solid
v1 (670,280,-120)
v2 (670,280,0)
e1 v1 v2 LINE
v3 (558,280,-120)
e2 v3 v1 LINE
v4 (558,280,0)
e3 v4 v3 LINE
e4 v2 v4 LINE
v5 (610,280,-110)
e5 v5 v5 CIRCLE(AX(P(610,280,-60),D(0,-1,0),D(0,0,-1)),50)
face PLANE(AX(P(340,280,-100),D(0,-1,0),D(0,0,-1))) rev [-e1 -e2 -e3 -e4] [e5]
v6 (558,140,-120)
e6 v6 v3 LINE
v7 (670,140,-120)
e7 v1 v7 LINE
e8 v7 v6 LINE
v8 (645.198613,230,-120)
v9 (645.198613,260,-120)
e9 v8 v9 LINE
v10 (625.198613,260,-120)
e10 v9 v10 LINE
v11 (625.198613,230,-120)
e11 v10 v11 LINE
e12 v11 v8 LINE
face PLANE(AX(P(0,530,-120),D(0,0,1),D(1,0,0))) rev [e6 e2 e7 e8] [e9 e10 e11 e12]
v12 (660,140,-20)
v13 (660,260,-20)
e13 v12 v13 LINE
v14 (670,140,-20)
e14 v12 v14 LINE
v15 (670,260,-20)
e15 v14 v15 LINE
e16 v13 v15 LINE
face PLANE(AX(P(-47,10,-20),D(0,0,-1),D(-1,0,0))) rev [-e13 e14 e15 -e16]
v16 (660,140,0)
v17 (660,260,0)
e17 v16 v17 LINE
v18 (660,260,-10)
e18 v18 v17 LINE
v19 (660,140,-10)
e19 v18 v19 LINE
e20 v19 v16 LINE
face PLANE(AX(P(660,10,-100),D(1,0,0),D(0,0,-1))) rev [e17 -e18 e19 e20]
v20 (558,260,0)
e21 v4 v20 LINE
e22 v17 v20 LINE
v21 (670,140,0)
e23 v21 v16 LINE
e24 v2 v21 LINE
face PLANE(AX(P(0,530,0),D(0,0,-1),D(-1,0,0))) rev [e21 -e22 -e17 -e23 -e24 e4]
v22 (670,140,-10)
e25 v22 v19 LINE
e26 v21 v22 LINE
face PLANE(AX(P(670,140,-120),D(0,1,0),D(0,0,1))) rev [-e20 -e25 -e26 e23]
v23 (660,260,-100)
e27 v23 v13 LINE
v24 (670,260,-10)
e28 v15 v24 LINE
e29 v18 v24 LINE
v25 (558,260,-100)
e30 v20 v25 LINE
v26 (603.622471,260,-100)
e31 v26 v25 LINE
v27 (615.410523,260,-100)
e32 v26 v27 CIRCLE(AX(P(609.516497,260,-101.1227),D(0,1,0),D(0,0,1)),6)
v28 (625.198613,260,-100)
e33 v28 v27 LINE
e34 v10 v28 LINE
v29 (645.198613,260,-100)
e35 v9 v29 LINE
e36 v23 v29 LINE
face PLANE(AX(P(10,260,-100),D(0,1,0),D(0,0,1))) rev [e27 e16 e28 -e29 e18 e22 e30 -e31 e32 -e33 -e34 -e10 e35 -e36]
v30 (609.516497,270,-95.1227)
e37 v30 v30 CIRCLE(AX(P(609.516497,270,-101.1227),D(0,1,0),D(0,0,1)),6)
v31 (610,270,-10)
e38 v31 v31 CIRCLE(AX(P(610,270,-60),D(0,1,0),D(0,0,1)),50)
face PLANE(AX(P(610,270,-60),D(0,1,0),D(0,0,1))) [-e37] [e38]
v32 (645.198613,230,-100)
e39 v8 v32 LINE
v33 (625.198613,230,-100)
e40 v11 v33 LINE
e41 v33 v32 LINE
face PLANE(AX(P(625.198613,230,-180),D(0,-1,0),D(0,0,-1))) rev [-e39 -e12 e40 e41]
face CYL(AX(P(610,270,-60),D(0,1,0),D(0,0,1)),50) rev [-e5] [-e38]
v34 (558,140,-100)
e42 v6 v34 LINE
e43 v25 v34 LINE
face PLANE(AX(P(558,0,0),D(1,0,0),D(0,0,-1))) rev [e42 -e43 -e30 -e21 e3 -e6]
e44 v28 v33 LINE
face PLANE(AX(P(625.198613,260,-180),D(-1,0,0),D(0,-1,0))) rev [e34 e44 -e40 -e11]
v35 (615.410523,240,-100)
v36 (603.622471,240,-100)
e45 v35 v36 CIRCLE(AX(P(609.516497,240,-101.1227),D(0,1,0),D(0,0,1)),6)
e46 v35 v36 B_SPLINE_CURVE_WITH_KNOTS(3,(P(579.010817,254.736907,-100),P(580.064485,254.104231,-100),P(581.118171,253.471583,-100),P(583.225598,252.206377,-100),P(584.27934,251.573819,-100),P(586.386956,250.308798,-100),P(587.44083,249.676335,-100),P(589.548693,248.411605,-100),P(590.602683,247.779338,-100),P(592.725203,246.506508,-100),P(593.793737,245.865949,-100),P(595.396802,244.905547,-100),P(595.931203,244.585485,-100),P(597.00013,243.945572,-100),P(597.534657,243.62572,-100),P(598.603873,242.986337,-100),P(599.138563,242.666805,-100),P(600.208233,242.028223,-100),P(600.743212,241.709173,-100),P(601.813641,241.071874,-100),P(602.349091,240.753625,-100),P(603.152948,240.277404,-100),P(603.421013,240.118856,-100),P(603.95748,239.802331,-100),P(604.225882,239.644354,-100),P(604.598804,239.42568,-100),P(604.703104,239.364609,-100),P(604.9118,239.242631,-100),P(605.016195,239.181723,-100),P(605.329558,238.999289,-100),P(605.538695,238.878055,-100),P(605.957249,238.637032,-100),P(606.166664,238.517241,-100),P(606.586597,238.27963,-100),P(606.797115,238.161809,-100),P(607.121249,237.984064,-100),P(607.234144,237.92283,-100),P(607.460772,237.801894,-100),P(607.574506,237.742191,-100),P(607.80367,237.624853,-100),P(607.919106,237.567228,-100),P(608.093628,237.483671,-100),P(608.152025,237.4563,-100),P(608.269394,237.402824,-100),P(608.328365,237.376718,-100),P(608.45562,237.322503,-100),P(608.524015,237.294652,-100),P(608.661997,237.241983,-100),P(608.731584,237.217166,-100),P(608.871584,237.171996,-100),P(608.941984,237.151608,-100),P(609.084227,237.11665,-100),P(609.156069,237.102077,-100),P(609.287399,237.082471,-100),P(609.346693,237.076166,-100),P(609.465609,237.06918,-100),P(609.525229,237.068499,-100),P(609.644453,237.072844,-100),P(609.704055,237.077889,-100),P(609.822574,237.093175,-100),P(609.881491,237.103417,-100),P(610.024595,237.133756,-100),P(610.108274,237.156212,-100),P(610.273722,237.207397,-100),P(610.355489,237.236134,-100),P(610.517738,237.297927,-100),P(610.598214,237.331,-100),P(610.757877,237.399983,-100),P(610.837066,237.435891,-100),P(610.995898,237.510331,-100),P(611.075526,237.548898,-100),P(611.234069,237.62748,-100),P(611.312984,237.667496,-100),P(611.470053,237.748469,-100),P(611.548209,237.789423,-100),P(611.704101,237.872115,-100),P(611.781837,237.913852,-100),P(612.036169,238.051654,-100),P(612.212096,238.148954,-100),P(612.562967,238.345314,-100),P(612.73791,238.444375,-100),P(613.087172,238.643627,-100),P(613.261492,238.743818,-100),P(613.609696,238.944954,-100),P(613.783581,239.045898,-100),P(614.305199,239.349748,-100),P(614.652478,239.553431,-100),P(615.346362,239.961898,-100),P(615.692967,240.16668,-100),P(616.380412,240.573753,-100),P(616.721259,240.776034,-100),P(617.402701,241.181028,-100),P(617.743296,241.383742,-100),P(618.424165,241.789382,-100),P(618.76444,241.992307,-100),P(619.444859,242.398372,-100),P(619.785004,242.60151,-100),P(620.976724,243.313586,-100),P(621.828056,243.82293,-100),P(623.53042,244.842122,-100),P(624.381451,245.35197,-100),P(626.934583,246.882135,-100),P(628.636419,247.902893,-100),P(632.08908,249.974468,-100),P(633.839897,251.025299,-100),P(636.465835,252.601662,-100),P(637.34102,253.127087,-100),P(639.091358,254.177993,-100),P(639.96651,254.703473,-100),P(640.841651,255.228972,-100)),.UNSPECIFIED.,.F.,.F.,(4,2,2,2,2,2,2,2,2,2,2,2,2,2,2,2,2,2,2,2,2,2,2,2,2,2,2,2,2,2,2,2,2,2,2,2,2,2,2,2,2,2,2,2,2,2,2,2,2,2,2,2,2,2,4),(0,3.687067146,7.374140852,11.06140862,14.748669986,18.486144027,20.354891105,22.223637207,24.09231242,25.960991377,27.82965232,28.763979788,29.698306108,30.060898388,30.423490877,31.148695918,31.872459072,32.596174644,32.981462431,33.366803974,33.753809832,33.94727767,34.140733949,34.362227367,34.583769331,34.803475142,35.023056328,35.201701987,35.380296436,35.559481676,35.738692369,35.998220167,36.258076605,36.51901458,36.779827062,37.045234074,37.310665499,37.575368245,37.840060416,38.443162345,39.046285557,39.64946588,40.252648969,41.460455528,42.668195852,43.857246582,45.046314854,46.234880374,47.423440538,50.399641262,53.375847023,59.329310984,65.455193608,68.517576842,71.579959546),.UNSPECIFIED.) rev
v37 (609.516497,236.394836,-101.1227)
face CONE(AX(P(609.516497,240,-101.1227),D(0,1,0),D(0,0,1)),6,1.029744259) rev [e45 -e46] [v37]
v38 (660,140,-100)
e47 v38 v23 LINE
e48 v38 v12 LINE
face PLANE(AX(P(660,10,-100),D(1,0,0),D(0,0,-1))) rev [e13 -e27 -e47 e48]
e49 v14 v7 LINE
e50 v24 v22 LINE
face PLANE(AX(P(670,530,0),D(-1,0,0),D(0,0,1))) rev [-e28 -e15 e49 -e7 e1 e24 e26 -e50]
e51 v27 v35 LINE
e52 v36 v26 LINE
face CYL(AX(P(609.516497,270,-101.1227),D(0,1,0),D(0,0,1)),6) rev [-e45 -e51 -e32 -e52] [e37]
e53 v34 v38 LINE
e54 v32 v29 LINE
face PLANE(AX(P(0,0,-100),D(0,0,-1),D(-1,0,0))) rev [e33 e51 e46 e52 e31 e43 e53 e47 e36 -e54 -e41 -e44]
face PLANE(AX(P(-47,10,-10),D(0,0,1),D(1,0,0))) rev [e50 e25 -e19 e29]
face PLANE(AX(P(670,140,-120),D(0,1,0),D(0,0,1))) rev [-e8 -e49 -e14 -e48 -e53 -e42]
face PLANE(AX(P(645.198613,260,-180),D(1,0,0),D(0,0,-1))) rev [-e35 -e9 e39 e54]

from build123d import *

# Parameters (mm, degrees)
SKETCH1_W                      = 670
SKETCH1_H                      = 120
BOSS_EXTRUDE1_DEPTH            = 530
SKETCH2_W                      = 100
SKETCH2_H                      = 200
SKETCH2_W_2                    = 650
SKETCH2_H_2                    = 250
CUT_EXTRUDE1_DEPTH             = 100
SKETCH3_R                      = 50
CUT_EXTRUDE2_DEPTH             = 260
F_12_0_12_DIAMETER_HOLE2_D     = 12
F_12_0_12_DIAMETER_HOLE2_DEPTH = 30
F_12_0_12_DIAMETER_HOLE2_TIP   = 3.605163714
SKETCH8_W                      = 650
SKETCH8_H                      = 50
BOSS_EXTRUDE2_DEPTH            = 5
SKETCH9_W                      = 10
SKETCH9_H                      = 250
CUT_EXTRUDE3_DEPTH             = 717
CUT_EXTRUDE4_DEPTH             = 5
SKETCH11_W                     = 10
SKETCH11_H                     = 100
BOSS_EXTRUDE3_DEPTH            = 78
BOSS_EXTRUDE3_2_DEPTH          = 78
BOSS_EXTRUDE3_3_DEPTH          = 78
SKETCH12_W                     = 20
SKETCH12_H                     = 30
CUT_EXTRUDE5_DEPTH             = 80
SKETCH15_W                     = 30
SKETCH15_H                     = 23.536156656
SKETCH15_H_2                   = 28.986603691
CUT_EXTRUDE7_DEPTH             = 35
SHELL1_T                       = -3
SKETCH16_W                     = 14
SKETCH16_H                     = 14
CUT_EXTRUDE8_DEPTH             = 35
SKETCH17_W                     = 5.729882812
SKETCH17_H                     = 17.428393554
SKETCH17_W_2                   = 13.369726562
SKETCH17_H_2                   = 3.342431641
BOSS_EXTRUDE4_DEPTH            = 5
CUT_EXTRUDE10_DEPTH            = 863.670273187
CUT_EXTRUDE10_DEPTH_BACK       = 863.670273187
SKETCH18_W                     = 670
SKETCH18_H                     = 250
CUT_EXTRUDE12_DEPTH            = 737.002717386
CUT_EXTRUDE12_DEPTH_BACK       = 737.002717386
SKETCH19_W                     = 558
SKETCH19_H                     = 280
CUT_EXTRUDE13_DEPTH            = 322.253793752
CUT_EXTRUDE13_DEPTH_BACK       = 322.253793752
SKETCH20_W                     = 120
SKETCH20_H                     = 140


with BuildPart() as part:
    # Sketch1 → Boss-Extrude1 (new body)
    with BuildSketch(Plane(origin=(0, 0, 0), x_dir=(1, 0, 0), z_dir=(0, 1, 0))):
        with Locations((335, 60)):
            Rectangle(SKETCH1_W, SKETCH1_H)
    extrude(amount=BOSS_EXTRUDE1_DEPTH)

    # Sketch2 → Cut-Extrude1 (cut)
    with BuildSketch(Plane.XY):
        with Locations((60, 380)):
            Rectangle(SKETCH2_W, SKETCH2_H)
        with Locations((170, 380)):
            Rectangle(SKETCH2_W, SKETCH2_H)
        with Locations((280, 380)):
            Rectangle(SKETCH2_W, SKETCH2_H)
        with Locations((390, 380)):
            Rectangle(SKETCH2_W, SKETCH2_H)
        with Locations((500, 380)):
            Rectangle(SKETCH2_W, SKETCH2_H)
        with Locations((610, 380)):
            Rectangle(SKETCH2_W, SKETCH2_H)
        with Locations((335, 135)):
            Rectangle(SKETCH2_W_2, SKETCH2_H_2)
    extrude(amount=-CUT_EXTRUDE1_DEPTH, mode=Mode.SUBTRACT)

    # Sketch3 → Cut-Extrude2 (cut)
    with BuildSketch(Plane(origin=(0, 530, 0), x_dir=(1, 0, 0), z_dir=(0, 1, 0))):
        with Locations(Location((60, 60, 0), (0, 0, 270))):
            Circle(SKETCH3_R)
        with Locations(Location((170, 60, 0), (0, 0, 270))):
            Circle(SKETCH3_R)
        with Locations(Location((280, 60, 0), (0, 0, 270))):
            Circle(SKETCH3_R)
        with Locations(Location((390, 60, 0), (0, 0, 270))):
            Circle(SKETCH3_R)
        with Locations(Location((500, 60, 0), (0, 0, 270))):
            Circle(SKETCH3_R)
        with Locations(Location((610, 60, 0), (0, 0, 270))):
            Circle(SKETCH3_R)
    extrude(amount=-CUT_EXTRUDE2_DEPTH, mode=Mode.SUBTRACT)

    # Ø12.0 (12) Diameter Hole2
    with Locations(Plane(origin=(59.704642413, 270, -102.411697903), x_dir=(0, 0, 1), z_dir=(0, 1, 0))):
        with Locations((0, 0), (-0.195888006, 111.8520513), (0.014838595, 221.167624818), (-0.341843303, 331.364008353), (0.657723149, 441.008646429), (1.288998006, 549.811854685)):
            Hole(F_12_0_12_DIAMETER_HOLE2_D / 2, depth=F_12_0_12_DIAMETER_HOLE2_DEPTH)
            with Locations((0, 0, -(F_12_0_12_DIAMETER_HOLE2_DEPTH + F_12_0_12_DIAMETER_HOLE2_TIP / 2))):  # 118° drill point
                Cone(0, F_12_0_12_DIAMETER_HOLE2_D / 2, F_12_0_12_DIAMETER_HOLE2_TIP, mode=Mode.SUBTRACT)

    # Sketch8 → Boss-Extrude2 (add)
    with BuildSketch(Plane.XY):
        with Locations((335, 305)):
            Rectangle(SKETCH8_W, SKETCH8_H)
    extrude(amount=-BOSS_EXTRUDE2_DEPTH)

    # Sketch9 → Cut-Extrude3 (cut)
    with BuildSketch(Plane(origin=(670, 0, 0), x_dir=(0, 0, -1), z_dir=(1, 0, 0))):
        with Locations((15, 135)):
            Rectangle(SKETCH9_W, SKETCH9_H)
    extrude(amount=-CUT_EXTRUDE3_DEPTH, mode=Mode.SUBTRACT)

    # Sketch10 → Cut-Extrude4 (cut)
    with BuildSketch(Plane(origin=(0, 10, 0), x_dir=(1, 0, 0), z_dir=(0, 1, 0))):
        Polygon((365, 61.943560596), (350, 87.924322709), (320, 87.924322709), (305, 61.943560596), (320, 35.962798482), (350, 35.962798482), align=None)
    extrude(amount=-CUT_EXTRUDE4_DEPTH, mode=Mode.SUBTRACT)

    # Sketch12 → Cut-Extrude5 (cut)
    with BuildSketch(Plane.XY.offset(-100)):
        with Locations((85.198613037, 245)):
            Rectangle(SKETCH12_W, SKETCH12_H)
        with Locations((195.198613037, 245)):
            Rectangle(SKETCH12_W, SKETCH12_H)
        with Locations((305.198613037, 245)):
            Rectangle(SKETCH12_W, SKETCH12_H)
        with Locations((415.198613037, 245)):
            Rectangle(SKETCH12_W, SKETCH12_H)
        with Locations((525.198613037, 245)):
            Rectangle(SKETCH12_W, SKETCH12_H)
        with Locations((635.198613037, 245)):
            Rectangle(SKETCH12_W, SKETCH12_H)
    extrude(amount=-CUT_EXTRUDE5_DEPTH, mode=Mode.SUBTRACT)

    # Sketch17 → Boss-Extrude4 (add)
    # profile 1 of 9: a face of its own
    with BuildSketch(Plane.XY):
        with BuildLine():
            Line((527.508830928, 289.835452458), (527.508830928, 307.263846012))
            Line((527.508830928, 307.263846012), (534.861434459, 307.263846012))
            add(Edge.make_bspline(
                [(534.861434459, 307.263846012), (535.181337774, 307.258256848), (535.803061116, 307.24739446), (536.703508491, 307.139069344), (537.544992916, 306.975202489), (538.325061607, 306.737496792), (539.040841948, 306.426020155), (539.698044515, 306.051894954), (540.290333057, 305.605079277), (540.822348212, 305.090232636), (541.284521701, 304.502523111), (541.692171296, 303.852565801), (542.030284458, 303.129762281), (542.309377095, 302.341316546), (542.5243908, 301.484161689), (542.679660381, 300.560045938), (542.773357357, 299.567500804), (542.783368073, 298.883107022), (542.788518428, 298.530997273)],
                knots=[0, 0, 0, 0, 1.135059408, 2.20595691, 3.214417064, 4.174978569, 5.094187092, 5.980001006, 6.853065862, 7.720814779, 8.600404634, 9.50058483, 10.438414914, 11.426825708, 12.465239141, 13.571113463, 14.750376389, 16, 16, 16, 16], degree=3))
            add(Edge.make_bspline(
                [(542.788518428, 298.530997273), (542.781740751, 298.180151665), (542.768592871, 297.499553336), (542.676885992, 296.511518461), (542.516733301, 295.591080531), (542.296748778, 294.736450427), (542.003051046, 293.953120444), (541.654236167, 293.233205539), (541.233025793, 292.585291498), (540.753136904, 292.000029304), (540.204772188, 291.484681411), (539.587651059, 291.044279297), (538.910779309, 290.668464036), (538.169670382, 290.361903209), (537.364073889, 290.124869172), (536.495133477, 289.954199984), (535.562644449, 289.853487388), (534.920131033, 289.841584621), (534.58911581, 289.835452458)],
                knots=[0, 0, 0, 0, 1.228418252, 2.382983832, 3.470276728, 4.496757894, 5.468023682, 6.394867725, 7.292157164, 8.167372942, 9.039072913, 9.918728341, 10.815246345, 11.744296628, 12.720973084, 13.750736166, 14.841206188, 16, 16, 16, 16], degree=3))
            Line((534.58911581, 289.835452458), (527.508830928, 289.835452458))
        make_face()
        with BuildLine():
            Line((533.238713741, 291.745413395), (534.048208904, 291.745413395))
            add(Edge.make_bspline(
                [(534.048208904, 291.745413395), (534.172894012, 291.749291978), (534.413033311, 291.756761998), (534.758676231, 291.825976613), (535.075745017, 291.938271137), (535.365749176, 292.094802589), (535.623404602, 292.300450923), (535.848862806, 292.551404902), (536.04776914, 292.844737637), (536.217685755, 293.190205032), (536.364284647, 293.596533622), (536.481764702, 294.076367921), (536.592118304, 294.630928744), (536.673672739, 295.265507643), (536.740044562, 295.978448886), (536.788346679, 296.768428292), (536.812018936, 297.636801208), (536.817188964, 298.241258393), (536.819890499, 298.55711002)],
                knots=[0, 0, 0, 0, 0.728710832, 1.403472396, 2.052289494, 2.690292559, 3.321919393, 3.970736491, 4.656696891, 5.388631723, 6.217040872, 7.17856157, 8.275589967, 9.523440737, 10.918935818, 12.463926104, 14.152268318, 16, 16, 16, 16], degree=3))
            add(Edge.make_bspline(
                [(536.819890499, 298.55711002), (536.8171426, 298.871715251), (536.811863063, 299.476166083), (536.7886758, 300.343334385), (536.739579947, 301.133216935), (536.674703848, 301.843934916), (536.589660404, 302.476324031), (536.488366458, 303.031681737), (536.362441588, 303.507627045), (536.222158727, 303.914921549), (536.050140993, 304.256514038), (535.858357073, 304.554097881), (535.62547107, 304.79746827), (535.36991257, 305.004888479), (535.079348843, 305.160875844), (534.761320266, 305.273944358), (534.414185903, 305.34216807), (534.172870641, 305.349893944), (534.048208904, 305.353885075)],
                knots=[0, 0, 0, 0, 1.842836665, 3.540640921, 5.080358154, 6.47765669, 7.719902824, 8.816971715, 9.781579111, 10.601733135, 11.334613876, 12.017393917, 12.666641099, 13.29908421, 13.937911793, 14.587567384, 15.270347425, 16, 16, 16, 16], degree=3))
            Line((534.048208904, 305.353885075), (533.238713741, 305.353885075))
            Line((533.238713741, 305.353885075), (533.238713741, 291.745413395))
        make_face(mode=Mode.SUBTRACT)
    # profile 2 of 9: a face of its own
    with BuildSketch(Plane.XY):
        with Locations((547.563420772, 298.549649235)):
            Rectangle(SKETCH17_W, SKETCH17_H)
    # profile 3 of 9: a face of its own
    with BuildSketch(Plane.XY):
        Polygon((564.514324092, 307.263846012), (564.514324092, 305.115139958), (558.545696163, 305.115139958), (558.545696163, 299.862747379), (563.559343624, 299.862747379), (563.559343624, 297.714041325), (558.545696163, 297.714041325), (558.545696163, 289.835452458), (552.81581335, 289.835452458), (552.81581335, 307.263846012), align=None)
    # profile 4 of 9: a face of its own
    with BuildSketch(Plane.XY):
        Polygon((577.645305538, 307.263846012), (577.645305538, 305.115139958), (571.676677608, 305.115139958), (571.676677608, 299.862747379), (576.690325069, 299.862747379), (576.690325069, 297.714041325), (571.676677608, 297.714041325), (571.676677608, 289.835452458), (565.946794795, 289.835452458), (565.946794795, 307.263846012), align=None)
    # profile 5 of 9: a face of its own
    with BuildSketch(Plane.XY):
        with Locations((584.330168819, 287.448001286)):
            Rectangle(SKETCH17_W_2, SKETCH17_H_2)
    # profile 6 of 9: a face of its own
    with BuildSketch(Plane.XY):
        with BuildLine():
            Line((605.578484249, 307.263846012), (605.578484249, 295.602639195))
            add(Edge.make_bspline(
                [(605.578484249, 295.602639195), (605.574209777, 295.35989389), (605.565919345, 294.889083964), (605.480877158, 294.20653885), (605.349958188, 293.569747554), (605.15926554, 292.978838165), (604.911867049, 292.436847071), (604.616163877, 291.936663973), (604.260702644, 291.487723021), (603.847299908, 291.08966617), (603.386881991, 290.731670113), (602.867295001, 290.425440037), (602.293741958, 290.168488385), (601.66690529, 289.960990771), (600.988052682, 289.797299786), (600.254912883, 289.679078851), (599.467035781, 289.60781007), (598.923618241, 289.60048219), (598.643684673, 289.59670734)],
                knots=[0, 0, 0, 0, 1.108173197, 2.149326602, 3.136215123, 4.073726706, 4.978516626, 5.852185058, 6.72141202, 7.584905625, 8.467554395, 9.379216169, 10.332422268, 11.332766067, 12.390653242, 13.518530507, 14.721707419, 16, 16, 16, 16], degree=3))
            add(Edge.make_bspline(
                [(598.643684673, 289.59670734), (598.373688491, 289.600411437), (597.851346557, 289.607577482), (597.093280473, 289.679448684), (596.387523889, 289.797736542), (595.733050135, 289.960122315), (595.130189942, 290.169220301), (594.579048171, 290.42623041), (594.078350789, 290.732835498), (593.633858028, 291.090104794), (593.234289459, 291.486851767), (592.899913678, 291.940746827), (592.609043638, 292.435866034), (592.375223767, 292.980322997), (592.191754821, 293.570441519), (592.063541006, 294.20666921), (591.983676196, 294.889343196), (591.974661767, 295.359932437), (591.970012569, 295.602639195)],
                knots=[0, 0, 0, 0, 1.258901956, 2.435505865, 3.547148904, 4.59359074, 5.576649289, 6.5183682, 7.424469602, 8.307507093, 9.172751023, 10.042627298, 10.928839176, 11.845659241, 12.799442865, 13.80597989, 14.868432463, 16, 16, 16, 16], degree=3))
            Line((591.970012569, 295.602639195), (591.970012569, 307.263846012))
            Line((591.970012569, 307.263846012), (597.699895381, 307.263846012))
            Line((597.699895381, 307.263846012), (597.699895381, 295.457153889))
            add(Edge.make_bspline(
                [(597.699895381, 295.457153889), (597.700816195, 295.287996189), (597.702584578, 294.963135903), (597.729908723, 294.499051493), (597.768241004, 294.079064133), (597.828226169, 293.705517832), (597.90066041, 293.377063412), (597.989882091, 293.09281535), (598.094998068, 292.852496478), (598.225239063, 292.654232043), (598.380826623, 292.495135011), (598.55368342, 292.353231761), (598.757556996, 292.238543846), (598.987648905, 292.146224908), (599.243380948, 292.070549638), (599.526120553, 292.020376099), (599.83553351, 291.990763905), (600.049971942, 291.986424568), (600.161954402, 291.984158512)],
                knots=[0, 0, 0, 0, 1.622370975, 3.115695595, 4.458049099, 5.666011203, 6.742434742, 7.681714947, 8.519814998, 9.250928664, 9.942747364, 10.646898194, 11.389596108, 12.175933929, 13.021386247, 13.943159715, 14.925891993, 16, 16, 16, 16], degree=3))
            add(Edge.make_bspline(
                [(600.161954402, 291.984158512), (600.283927219, 291.987190593), (600.521124756, 291.993087005), (600.86597014, 292.03390861), (601.187714881, 292.103380086), (601.484890424, 292.205377303), (601.758665297, 292.332852529), (602.012761516, 292.484567923), (602.236391413, 292.674631152), (602.439076761, 292.888441291), (602.620738276, 293.128529789), (602.771757722, 293.399928575), (602.905501548, 293.697121508), (603.005823683, 294.025060118), (603.089837826, 294.379999499), (603.146989706, 294.763086929), (603.186210275, 295.174074524), (603.189394751, 295.457053988), (603.191033077, 295.602639195)],
                knots=[0, 0, 0, 0, 1.083870311, 2.107775948, 3.08105344, 4.003637981, 4.893545291, 5.761570557, 6.624657808, 7.49233129, 8.376387281, 9.291996285, 10.246843261, 11.267344133, 12.334180325, 13.486053461, 14.706643157, 16, 16, 16, 16], degree=3))
            Line((603.191033077, 295.602639195), (603.191033077, 307.263846012))
            Line((603.191033077, 307.263846012), (605.578484249, 307.263846012))
        make_face()
    # profile 7 of 9: a face of its own
    with BuildSketch(Plane.XY):
        with BuildLine():
            Line((619.731593227, 302.015183827), (616.739818477, 301.526502415))
            add(Edge.make_bspline(
                [(616.739818477, 301.526502415), (616.748849224, 301.670726223), (616.765660669, 301.939210177), (616.78429066, 302.312269209), (616.796668381, 302.625642376), (616.798628236, 302.814722915), (616.799504756, 302.899286839)],
                knots=[0, 0, 0, 0, 1.261802504, 2.348944521, 3.261585937, 4, 4, 4, 4], degree=3))
            add(Edge.make_bspline(
                [(616.799504756, 302.899286839), (616.798306068, 303.007660677), (616.795968139, 303.219033721), (616.750451916, 303.523894877), (616.694806916, 303.811547356), (616.604352699, 304.076787391), (616.488181329, 304.320314265), (616.348943917, 304.543955606), (616.184187178, 304.745078709), (615.995833421, 304.928129987), (615.778009957, 305.083200131), (615.536269472, 305.218702836), (615.269765326, 305.333844758), (614.978065514, 305.431346685), (614.660683072, 305.504624438), (614.319025281, 305.556776695), (613.952471696, 305.585673441), (613.699597795, 305.590260771), (613.568984889, 305.592630192)],
                knots=[0, 0, 0, 0, 1.079280541, 2.105035848, 3.067950317, 3.99715044, 4.889989748, 5.753421302, 6.617030865, 7.476358039, 8.364190572, 9.274590025, 10.235106994, 11.254473582, 12.337095886, 13.478601727, 14.697662529, 16, 16, 16, 16], degree=3))
            add(Edge.make_bspline(
                [(613.568984889, 305.592630192), (613.391954632, 305.58912286), (613.059112606, 305.582528579), (612.595688488, 305.495339748), (612.198743126, 305.361419257), (611.87165349, 305.163811893), (611.613188167, 304.909795747), (611.433841092, 304.593316589), (611.323009072, 304.224665915), (611.313400221, 303.959558324), (611.308367061, 303.820693775)],
                knots=[0, 0, 0, 0, 1.294917039, 2.43462794, 3.440028966, 4.347597256, 5.210608309, 6.06356377, 6.985685997, 8, 8, 8, 8], degree=3))
            add(Edge.make_bspline(
                [(611.308367061, 303.820693775), (611.317562032, 303.705133219), (611.336106628, 303.472068433), (611.47315858, 303.132808312), (611.695999602, 302.811560885), (612.009295906, 302.510664216), (612.404107796, 302.221967273), (612.884407504, 301.948533431), (613.450813789, 301.688189695), (613.862519081, 301.536023727), (614.080048656, 301.455624958)],
                knots=[0, 0, 0, 0, 0.716839541, 1.445735977, 2.240793036, 3.131329288, 4.131129903, 5.273471266, 6.559404876, 8, 8, 8, 8], degree=3))
            add(Edge.make_bspline(
                [(614.080048656, 301.455624958), (614.335934702, 301.364918412), (614.834564244, 301.188164095), (615.547657928, 300.88707802), (616.213068388, 300.5749594), (616.829579094, 300.246613346), (617.397833174, 299.90520698), (617.914851624, 299.544556457), (618.386199073, 299.173962102), (618.807001026, 298.783874588), (619.177995113, 298.378100064), (619.4958685, 297.952745357), (619.771807525, 297.51723103), (619.991113975, 297.061458502), (620.169645242, 296.594624218), (620.292698657, 296.11024444), (620.364288243, 295.609761088), (620.37516617, 295.270864226), (620.380681514, 295.099036213)],
                knots=[0, 0, 0, 0, 1.359488612, 2.649152603, 3.874964776, 5.039588756, 6.146130126, 7.193090393, 8.194917302, 9.146793662, 10.063845301, 10.944476293, 11.803344532, 12.641736646, 13.473440096, 14.302714936, 15.139439897, 16, 16, 16, 16], degree=3))
            add(Edge.make_bspline(
                [(620.380681514, 295.099036213), (620.374476075, 294.902306495), (620.362285176, 294.515820995), (620.280160209, 293.948630617), (620.138011896, 293.409496554), (619.938489338, 292.895972278), (619.681049879, 292.411946655), (619.366518754, 291.954381076), (618.996510229, 291.525099427), (618.5710008, 291.128381035), (618.102222518, 290.765302239), (617.587803957, 290.450854345), (617.034458515, 290.187092261), (616.444107988, 289.968993032), (615.81453624, 289.801373099), (615.145337453, 289.685291013), (614.438790193, 289.606619894), (613.954683001, 289.600062276), (613.70700941, 289.59670734)],
                knots=[0, 0, 0, 0, 0.972121714, 1.909782367, 2.824924061, 3.721832975, 4.62620438, 5.527836938, 6.46026819, 7.421000932, 8.398101015, 9.385579713, 10.394244048, 11.422703992, 12.491421888, 13.608778581, 14.776629625, 16, 16, 16, 16], degree=3))
            add(Edge.make_bspline(
                [(613.70700941, 289.59670734), (613.445745367, 289.599650312), (612.939893069, 289.605348413), (612.207608113, 289.66709241), (611.525297432, 289.760984454), (610.893395078, 289.899706116), (610.309273131, 290.072394336), (609.776099392, 290.288320955), (609.295310255, 290.547303481), (608.863217672, 290.843007892), (608.478306623, 291.175775461), (608.148120946, 291.551766865), (607.86942369, 291.967163224), (607.639947144, 292.421521488), (607.466477665, 292.917583541), (607.339164663, 293.449829748), (607.264537999, 294.021332449), (607.254747521, 294.414908557), (607.249700069, 294.617815586)],
                knots=[0, 0, 0, 0, 1.342201143, 2.598733168, 3.773451092, 4.878874364, 5.91991243, 6.900006476, 7.829142054, 8.72062616, 9.585588575, 10.436728592, 11.283829734, 12.149664931, 13.044964919, 13.977937424, 14.957531465, 16, 16, 16, 16], degree=3))
            add(Edge.make_bspline(
                [(607.249700069, 294.617815586), (607.250803815, 294.692425759), (607.253213998, 294.855347393), (607.260452266, 295.122772538), (607.275636683, 295.433682216), (607.29037174, 295.656130545), (607.298195171, 295.774237248)],
                knots=[0, 0, 0, 0, 0.773500207, 1.689044709, 2.77302154, 4, 4, 4, 4], degree=3))
            Line((607.298195171, 295.774237248), (610.36457777, 296.337526509))
            add(Edge.make_bspline(
                [(610.36457777, 296.337526509), (610.326952988, 296.136337493), (610.255606535, 295.754830366), (610.178678473, 295.21219969), (610.124206629, 294.733311493), (610.11767002, 294.435147371), (610.114641475, 294.297001835)],
                knots=[0, 0, 0, 0, 1.192988372, 2.262218769, 3.194850416, 4, 4, 4, 4], degree=3))
            add(Edge.make_bspline(
                [(610.114641475, 294.297001835), (610.116191817, 294.183708768), (610.119182568, 293.965156219), (610.159053378, 293.648552813), (610.215988606, 293.352999663), (610.302906772, 293.079707227), (610.411206928, 292.826307836), (610.544682453, 292.59538211), (610.704385489, 292.386485019), (610.887496571, 292.200099922), (611.094689168, 292.033628705), (611.327456494, 291.892756696), (611.58347653, 291.771733922), (611.864681562, 291.677479524), (612.167961721, 291.596080628), (612.497219749, 291.548235723), (612.849461228, 291.512043782), (613.092629543, 291.508500084), (613.218327999, 291.506668278)],
                knots=[0, 0, 0, 0, 1.135776692, 2.191015738, 3.19649269, 4.151244236, 5.061952528, 5.956281389, 6.819534407, 7.692823504, 8.571441916, 9.478554956, 10.416037156, 11.406231466, 12.450054172, 13.561596327, 14.739541482, 16, 16, 16, 16], degree=3))
            add(Edge.make_bspline(
                [(613.218327999, 291.506668278), (613.423996012, 291.510791273), (613.810619321, 291.518541853), (614.349272542, 291.616708407), (614.810575885, 291.768742445), (615.189785268, 291.991387532), (615.490778961, 292.278756613), (615.698005174, 292.637320004), (615.824813318, 293.05638326), (615.837728413, 293.355975238), (615.844524288, 293.513619419)],
                knots=[0, 0, 0, 0, 1.308765556, 2.460272085, 3.475015317, 4.388076298, 5.239673503, 6.095681635, 6.997954785, 8, 8, 8, 8], degree=3))
            add(Edge.make_bspline(
                [(615.844524288, 293.513619419), (615.833808824, 293.638242951), (615.811807312, 293.894126055), (615.644884004, 294.264515838), (615.382382362, 294.620631473), (615.016807277, 294.962984909), (614.551376589, 295.293471235), (613.986957743, 295.616730224), (613.322148235, 295.933112033), (612.83677959, 296.119639164), (612.580430889, 296.21815395)],
                knots=[0, 0, 0, 0, 0.667930748, 1.371427933, 2.146459016, 3.034714139, 4.04893387, 5.207327294, 6.525042705, 8, 8, 8, 8], degree=3))
            add(Edge.make_bspline(
                [(612.580430889, 296.21815395), (612.374354345, 296.29679374), (611.970646869, 296.450850434), (611.394079385, 296.713586304), (610.853066711, 296.987016804), (610.357486361, 297.288235735), (609.896382561, 297.599610528), (609.477036946, 297.932256792), (609.09841673, 298.284556341), (608.758710772, 298.653375077), (608.457302107, 299.038989264), (608.199448649, 299.444659231), (607.977533299, 299.866789834), (607.798609588, 300.308107488), (607.65975715, 300.767821241), (607.559616231, 301.244439392), (607.497905054, 301.739995674), (607.491630423, 302.075933546), (607.488445186, 302.246468159)],
                knots=[0, 0, 0, 0, 1.249558333, 2.447906163, 3.58867143, 4.682264114, 5.731748367, 6.739728761, 7.711906036, 8.659384707, 9.578321416, 10.481344598, 11.379544271, 12.277135726, 13.175418307, 14.097160112, 15.034047388, 16, 16, 16, 16], degree=3))
            add(Edge.make_bspline(
                [(607.488445186, 302.246468159), (607.49282555, 302.439538736), (607.501402184, 302.817565692), (607.587451154, 303.36980586), (607.719291893, 303.894921371), (607.910558542, 304.389343064), (608.156192894, 304.852853762), (608.453187669, 305.288766511), (608.804241719, 305.697593471), (609.213503754, 306.066686531), (609.657214714, 306.407618241), (610.14376173, 306.697651931), (610.658716537, 306.950861947), (611.210636666, 307.148827868), (611.791820619, 307.313252612), (612.408080529, 307.421140415), (613.056315391, 307.490701612), (613.499160755, 307.498567824), (613.725661373, 307.502591129)],
                knots=[0, 0, 0, 0, 1.01033566, 1.978209831, 2.919499157, 3.840961976, 4.746855014, 5.660740114, 6.597989116, 7.56120833, 8.541877795, 9.523498025, 10.522416858, 11.542172371, 12.589598349, 13.681636521, 14.814234488, 16, 16, 16, 16], degree=3))
            add(Edge.make_bspline(
                [(613.725661373, 307.502591129), (613.968269855, 307.498219033), (614.438190994, 307.489750488), (615.120391152, 307.426787419), (615.755073228, 307.319142339), (616.345153155, 307.171557286), (616.887304575, 306.977590666), (617.384933999, 306.742393454), (617.834452216, 306.46201507), (618.236961315, 306.139451502), (618.593086714, 305.773322851), (618.897467704, 305.361641069), (619.158701245, 304.909408454), (619.366684143, 304.412232174), (619.529870326, 303.873247147), (619.649133834, 303.29158184), (619.720420497, 302.667301443), (619.72779778, 302.236712324), (619.731593227, 302.015183827)],
                knots=[0, 0, 0, 0, 1.248314423, 2.417925914, 3.521398822, 4.558068205, 5.543720209, 6.479599284, 7.385061127, 8.263440163, 9.127722873, 10.00561236, 10.891325273, 11.808802823, 12.772251995, 13.784947978, 14.860405143, 16, 16, 16, 16], degree=3))
        make_face()
    # profile 8 of 9: a face of its own
    with BuildSketch(Plane.XY):
        Polygon((633.989153194, 307.263846012), (633.989153194, 305.115139958), (628.020525264, 305.115139958), (628.020525264, 300.340237614), (633.034172725, 300.340237614), (633.034172725, 298.191531559), (628.020525264, 298.191531559), (628.020525264, 291.984158512), (634.944133663, 291.984158512), (634.944133663, 289.835452458), (622.290642452, 289.835452458), (622.290642452, 307.263846012), align=None)
    # profile 9 of 9: a face of its own
    with BuildSketch(Plane.XY):
        with BuildLine():
            Line((636.376604366, 289.835452458), (636.376604366, 307.263846012))
            Line((636.376604366, 307.263846012), (643.990335369, 307.263846012))
            add(Edge.make_bspline(
                [(643.990335369, 307.263846012), (644.237946498, 307.261150834), (644.721600887, 307.25588639), (645.426490561, 307.189203683), (646.094808274, 307.090496236), (646.724915796, 306.949857504), (647.317873659, 306.767252686), (647.871119087, 306.542146), (648.390701058, 306.282329135), (648.864494846, 305.976472528), (649.295093616, 305.642889252), (649.669668547, 305.279483604), (649.990389523, 304.894749072), (650.250664962, 304.483256345), (650.454275633, 304.048690948), (650.59581384, 303.587791605), (650.684089268, 303.104102537), (650.695510601, 302.772834174), (650.701311397, 302.604585835)],
                knots=[0, 0, 0, 0, 1.303269877, 2.545653735, 3.724355284, 4.8584284, 5.941462088, 6.987020715, 8.000098032, 8.995332524, 9.951400474, 10.863507538, 11.737823931, 12.582415999, 13.420128714, 14.25671499, 15.114600608, 16, 16, 16, 16], degree=3))
            add(Edge.make_bspline(
                [(650.701311397, 302.604585835), (650.698282873, 302.472674957), (650.692382063, 302.215658276), (650.651041486, 301.838684287), (650.580643818, 301.480313933), (650.481036683, 301.139915259), (650.347814833, 300.820175594), (650.191279492, 300.517863507), (650.009772227, 300.230553342), (649.788675198, 299.970497982), (649.548268341, 299.722842359), (649.274558803, 299.497116911), (648.974487035, 299.288655528), (648.642526299, 299.104010513), (648.287619671, 298.928055749), (647.899038177, 298.784921972), (647.486819978, 298.644749395), (647.19793098, 298.577036306), (647.049257183, 298.54218845)],
                knots=[0, 0, 0, 0, 1.057156483, 2.059775939, 3.035078039, 3.981068617, 4.897189472, 5.80650904, 6.70770952, 7.613691521, 8.536886357, 9.470937334, 10.45233069, 11.461024139, 12.51295332, 13.623444893, 14.776929983, 16, 16, 16, 16], degree=3))
            add(Edge.make_bspline(
                [(647.049257183, 298.54218845), (647.19164695, 298.499279419), (647.467865022, 298.416041346), (647.856360945, 298.265600017), (648.211652989, 298.111536308), (648.524185739, 297.936781388), (648.807636894, 297.762122504), (649.047122259, 297.564301324), (649.255235567, 297.361673563), (649.425188343, 297.135464734), (649.570253643, 296.882344437), (649.694827156, 296.586596707), (649.815179167, 296.247423665), (649.917667348, 295.859098311), (650.004750555, 295.423699276), (650.088222437, 294.944027189), (650.153853601, 294.416024546), (650.187587341, 294.048412906), (650.2051692, 293.856815525)],
                knots=[0, 0, 0, 0, 1.149282524, 2.229462177, 3.219229774, 4.139917433, 4.995948464, 5.788695735, 6.536448429, 7.236319808, 7.968460079, 8.78645307, 9.713791991, 10.749194692, 11.887975363, 13.146018663, 14.512518948, 16, 16, 16, 16], degree=3))
            add(Edge.make_bspline(
                [(650.2051692, 293.856815525), (650.225980287, 293.627849833), (650.265975604, 293.187817268), (650.348933081, 292.554613589), (650.44386163, 291.974357025), (650.555874504, 291.44528724), (650.681301216, 290.967898855), (650.821280597, 290.540469593), (650.979920039, 290.165788217), (651.10484481, 289.941461656), (651.163880062, 289.835452458)],
                knots=[0, 0, 0, 0, 1.324580516, 2.545615266, 3.678710841, 4.711533017, 5.660403917, 6.521349952, 7.301239649, 8, 8, 8, 8], degree=3))
            Line((651.163880062, 289.835452458), (645.213904094, 289.835452458))
            add(Edge.make_bspline(
                [(645.213904094, 289.835452458), (645.12229736, 290.069847279), (644.935171241, 290.548648246), (644.7595281, 291.319414791), (644.64846922, 292.142514735), (644.635117598, 292.70994511), (644.628232479, 293.002555653)],
                knots=[0, 0, 0, 0, 0.930410518, 1.900560147, 2.917368081, 4, 4, 4, 4], degree=3))
            Line((644.628232479, 293.002555653), (644.605850124, 294.002300831))
            Line((644.605850124, 294.002300831), (644.579737377, 295.266903874))
            add(Edge.make_bspline(
                [(644.579737377, 295.266903874), (644.573694669, 295.477395004), (644.562357007, 295.872330118), (644.469348432, 296.426164013), (644.30178735, 296.894645884), (644.073222546, 297.287223005), (643.766741442, 297.590613479), (643.39104803, 297.804152917), (642.950456912, 297.93396284), (642.634664848, 297.946292392), (642.468335247, 297.952786442)],
                knots=[0, 0, 0, 0, 1.295300309, 2.430314163, 3.439929415, 4.342995669, 5.203512789, 6.060756153, 6.978588463, 8, 8, 8, 8], degree=3))
            Line((642.468335247, 297.952786442), (642.106487178, 297.952786442))
            Line((642.106487178, 297.952786442), (642.106487178, 289.835452458))
            Line((642.106487178, 289.835452458), (636.376604366, 289.835452458))
        make_face()
        with BuildLine():
            Line((642.106487178, 299.862747379), (642.617550945, 299.862747379))
            add(Edge.make_bspline(
                [(642.617550945, 299.862747379), (642.722054451, 299.865172716), (642.925280724, 299.869889229), (643.220054897, 299.898289891), (643.494111408, 299.951809873), (643.749840966, 300.021017819), (643.984372137, 300.114851792), (644.200147241, 300.225818296), (644.391160406, 300.362685327), (644.565327067, 300.516342321), (644.718148635, 300.691986294), (644.850351299, 300.889034217), (644.961199162, 301.106225057), (645.056078491, 301.342818683), (645.125883912, 301.600830857), (645.173262731, 301.879472914), (645.203404658, 302.177423605), (645.207875435, 302.383174491), (645.210173702, 302.488943669)],
                knots=[0, 0, 0, 0, 1.184986479, 2.304423995, 3.352332712, 4.347714965, 5.303263624, 6.211353909, 7.091434645, 7.960150225, 8.839440182, 9.723126897, 10.64371617, 11.599264829, 12.608232147, 13.667459739, 14.800924404, 16, 16, 16, 16], degree=3))
            add(Edge.make_bspline(
                [(645.210173702, 302.488943669), (645.207875435, 302.594712847), (645.203404658, 302.800463732), (645.173262731, 303.098414423), (645.125883912, 303.37705648), (645.056078491, 303.635068654), (644.961199162, 303.87166228), (644.850351299, 304.08885312), (644.718148635, 304.285901043), (644.565327067, 304.461545017), (644.391160406, 304.61520201), (644.200147241, 304.752069041), (643.984372137, 304.863035546), (643.749840966, 304.956869518), (643.494111408, 305.026077464), (643.220054897, 305.079597446), (642.925280724, 305.107998108), (642.722054451, 305.112714621), (642.617550945, 305.115139958)],
                knots=[0, 0, 0, 0, 1.199075596, 2.332540261, 3.391767853, 4.400735171, 5.35628383, 6.276873103, 7.160559818, 8.039849775, 8.908565355, 9.788646091, 10.696736376, 11.652285035, 12.647667288, 13.695576005, 14.815013521, 16, 16, 16, 16], degree=3))
            Line((642.617550945, 305.115139958), (642.106487178, 305.115139958))
            Line((642.106487178, 305.115139958), (642.106487178, 299.862747379))
        make_face(mode=Mode.SUBTRACT)
    extrude(amount=BOSS_EXTRUDE4_DEPTH)

    # Sketch18 → Cut-Extrude10 (cut, two sides: drawn at the far end of the back side and taken through both)
    with BuildSketch(Plane.XY.offset(-CUT_EXTRUDE10_DEPTH_BACK)):
        with Locations((335, 405)):
            Rectangle(SKETCH18_W, SKETCH18_H)
    extrude(amount=CUT_EXTRUDE10_DEPTH + CUT_EXTRUDE10_DEPTH_BACK, mode=Mode.SUBTRACT)

    # Sketch19 → Cut-Extrude12 (cut, two sides: drawn at the far end of the back side and taken through both)
    with BuildSketch(Plane(origin=(0, 0, -120), x_dir=(-1, 0, 0), z_dir=(0, 0, -1)).offset(-CUT_EXTRUDE12_DEPTH_BACK)):
        with Locations((-279, 140)):
            Rectangle(SKETCH19_W, SKETCH19_H)
    extrude(amount=CUT_EXTRUDE12_DEPTH + CUT_EXTRUDE12_DEPTH_BACK, mode=Mode.SUBTRACT)

    # Sketch20 → Cut-Extrude13 (cut, two sides: drawn at the far end of the back side and taken through both)
    with BuildSketch(Plane.ZY.offset(-660).offset(-CUT_EXTRUDE13_DEPTH_BACK)):
        with Locations((-60, 70)):
            Rectangle(SKETCH20_W, SKETCH20_H)
    extrude(amount=CUT_EXTRUDE13_DEPTH + CUT_EXTRUDE13_DEPTH_BACK, mode=Mode.SUBTRACT)


with BuildPart() as body_2:
    # Sketch11 → Boss-Extrude3 (new body)
    with BuildSketch(Plane.XY.offset(-100)):
        with Locations((255, 60)):
            Rectangle(SKETCH11_W, SKETCH11_H)
    extrude(amount=BOSS_EXTRUDE3_DEPTH)


with BuildPart() as body_3:
    # Sketch11 → Boss-Extrude3 2 (new body)
    with BuildSketch(Plane.XY.offset(-100)):
        with Locations((415, 60)):
            Rectangle(SKETCH11_W, SKETCH11_H)
    extrude(amount=BOSS_EXTRUDE3_2_DEPTH)


with BuildPart() as body_4:
    # Sketch11 → Boss-Extrude3 3 (new body)
    with BuildSketch(Plane.XY.offset(-100)):
        Polygon((25, 198.45686471), (325, 145.558770497), (325, 122.01775856), (345, 122.01775856), (345, 145.558770497), (645, 198.45686471), align=None)
    extrude(amount=BOSS_EXTRUDE3_3_DEPTH)

    # Sketch15 → Cut-Extrude7 (cut)
    with BuildSketch(Plane(origin=(345, 0, 0), x_dir=(0, 0, -1), z_dir=(1, 0, 0))):
        with Locations((35, 133.231921672)):
            Rectangle(SKETCH15_W, SKETCH15_H)
        with Locations((85, 130.506698154)):
            Rectangle(SKETCH15_W, SKETCH15_H_2)
    extrude(amount=-CUT_EXTRUDE7_DEPTH, mode=Mode.SUBTRACT)

    # Shell1
    shell1_openings = [body_4.faces().sort_by_distance(p)[0] for p in [
        (335, 198.45686471, -61),
    ]]
    offset(amount=SHELL1_T, openings=shell1_openings, kind=Kind.INTERSECTION)

    # Sketch16 → Cut-Extrude8 (cut)
    with BuildSketch(Plane.XZ.offset(-122.01775856)):
        with Locations((335, -60)):
            Rectangle(SKETCH16_W, SKETCH16_H)
    extrude(amount=-CUT_EXTRUDE8_DEPTH, mode=Mode.SUBTRACT)


solid = part.part
